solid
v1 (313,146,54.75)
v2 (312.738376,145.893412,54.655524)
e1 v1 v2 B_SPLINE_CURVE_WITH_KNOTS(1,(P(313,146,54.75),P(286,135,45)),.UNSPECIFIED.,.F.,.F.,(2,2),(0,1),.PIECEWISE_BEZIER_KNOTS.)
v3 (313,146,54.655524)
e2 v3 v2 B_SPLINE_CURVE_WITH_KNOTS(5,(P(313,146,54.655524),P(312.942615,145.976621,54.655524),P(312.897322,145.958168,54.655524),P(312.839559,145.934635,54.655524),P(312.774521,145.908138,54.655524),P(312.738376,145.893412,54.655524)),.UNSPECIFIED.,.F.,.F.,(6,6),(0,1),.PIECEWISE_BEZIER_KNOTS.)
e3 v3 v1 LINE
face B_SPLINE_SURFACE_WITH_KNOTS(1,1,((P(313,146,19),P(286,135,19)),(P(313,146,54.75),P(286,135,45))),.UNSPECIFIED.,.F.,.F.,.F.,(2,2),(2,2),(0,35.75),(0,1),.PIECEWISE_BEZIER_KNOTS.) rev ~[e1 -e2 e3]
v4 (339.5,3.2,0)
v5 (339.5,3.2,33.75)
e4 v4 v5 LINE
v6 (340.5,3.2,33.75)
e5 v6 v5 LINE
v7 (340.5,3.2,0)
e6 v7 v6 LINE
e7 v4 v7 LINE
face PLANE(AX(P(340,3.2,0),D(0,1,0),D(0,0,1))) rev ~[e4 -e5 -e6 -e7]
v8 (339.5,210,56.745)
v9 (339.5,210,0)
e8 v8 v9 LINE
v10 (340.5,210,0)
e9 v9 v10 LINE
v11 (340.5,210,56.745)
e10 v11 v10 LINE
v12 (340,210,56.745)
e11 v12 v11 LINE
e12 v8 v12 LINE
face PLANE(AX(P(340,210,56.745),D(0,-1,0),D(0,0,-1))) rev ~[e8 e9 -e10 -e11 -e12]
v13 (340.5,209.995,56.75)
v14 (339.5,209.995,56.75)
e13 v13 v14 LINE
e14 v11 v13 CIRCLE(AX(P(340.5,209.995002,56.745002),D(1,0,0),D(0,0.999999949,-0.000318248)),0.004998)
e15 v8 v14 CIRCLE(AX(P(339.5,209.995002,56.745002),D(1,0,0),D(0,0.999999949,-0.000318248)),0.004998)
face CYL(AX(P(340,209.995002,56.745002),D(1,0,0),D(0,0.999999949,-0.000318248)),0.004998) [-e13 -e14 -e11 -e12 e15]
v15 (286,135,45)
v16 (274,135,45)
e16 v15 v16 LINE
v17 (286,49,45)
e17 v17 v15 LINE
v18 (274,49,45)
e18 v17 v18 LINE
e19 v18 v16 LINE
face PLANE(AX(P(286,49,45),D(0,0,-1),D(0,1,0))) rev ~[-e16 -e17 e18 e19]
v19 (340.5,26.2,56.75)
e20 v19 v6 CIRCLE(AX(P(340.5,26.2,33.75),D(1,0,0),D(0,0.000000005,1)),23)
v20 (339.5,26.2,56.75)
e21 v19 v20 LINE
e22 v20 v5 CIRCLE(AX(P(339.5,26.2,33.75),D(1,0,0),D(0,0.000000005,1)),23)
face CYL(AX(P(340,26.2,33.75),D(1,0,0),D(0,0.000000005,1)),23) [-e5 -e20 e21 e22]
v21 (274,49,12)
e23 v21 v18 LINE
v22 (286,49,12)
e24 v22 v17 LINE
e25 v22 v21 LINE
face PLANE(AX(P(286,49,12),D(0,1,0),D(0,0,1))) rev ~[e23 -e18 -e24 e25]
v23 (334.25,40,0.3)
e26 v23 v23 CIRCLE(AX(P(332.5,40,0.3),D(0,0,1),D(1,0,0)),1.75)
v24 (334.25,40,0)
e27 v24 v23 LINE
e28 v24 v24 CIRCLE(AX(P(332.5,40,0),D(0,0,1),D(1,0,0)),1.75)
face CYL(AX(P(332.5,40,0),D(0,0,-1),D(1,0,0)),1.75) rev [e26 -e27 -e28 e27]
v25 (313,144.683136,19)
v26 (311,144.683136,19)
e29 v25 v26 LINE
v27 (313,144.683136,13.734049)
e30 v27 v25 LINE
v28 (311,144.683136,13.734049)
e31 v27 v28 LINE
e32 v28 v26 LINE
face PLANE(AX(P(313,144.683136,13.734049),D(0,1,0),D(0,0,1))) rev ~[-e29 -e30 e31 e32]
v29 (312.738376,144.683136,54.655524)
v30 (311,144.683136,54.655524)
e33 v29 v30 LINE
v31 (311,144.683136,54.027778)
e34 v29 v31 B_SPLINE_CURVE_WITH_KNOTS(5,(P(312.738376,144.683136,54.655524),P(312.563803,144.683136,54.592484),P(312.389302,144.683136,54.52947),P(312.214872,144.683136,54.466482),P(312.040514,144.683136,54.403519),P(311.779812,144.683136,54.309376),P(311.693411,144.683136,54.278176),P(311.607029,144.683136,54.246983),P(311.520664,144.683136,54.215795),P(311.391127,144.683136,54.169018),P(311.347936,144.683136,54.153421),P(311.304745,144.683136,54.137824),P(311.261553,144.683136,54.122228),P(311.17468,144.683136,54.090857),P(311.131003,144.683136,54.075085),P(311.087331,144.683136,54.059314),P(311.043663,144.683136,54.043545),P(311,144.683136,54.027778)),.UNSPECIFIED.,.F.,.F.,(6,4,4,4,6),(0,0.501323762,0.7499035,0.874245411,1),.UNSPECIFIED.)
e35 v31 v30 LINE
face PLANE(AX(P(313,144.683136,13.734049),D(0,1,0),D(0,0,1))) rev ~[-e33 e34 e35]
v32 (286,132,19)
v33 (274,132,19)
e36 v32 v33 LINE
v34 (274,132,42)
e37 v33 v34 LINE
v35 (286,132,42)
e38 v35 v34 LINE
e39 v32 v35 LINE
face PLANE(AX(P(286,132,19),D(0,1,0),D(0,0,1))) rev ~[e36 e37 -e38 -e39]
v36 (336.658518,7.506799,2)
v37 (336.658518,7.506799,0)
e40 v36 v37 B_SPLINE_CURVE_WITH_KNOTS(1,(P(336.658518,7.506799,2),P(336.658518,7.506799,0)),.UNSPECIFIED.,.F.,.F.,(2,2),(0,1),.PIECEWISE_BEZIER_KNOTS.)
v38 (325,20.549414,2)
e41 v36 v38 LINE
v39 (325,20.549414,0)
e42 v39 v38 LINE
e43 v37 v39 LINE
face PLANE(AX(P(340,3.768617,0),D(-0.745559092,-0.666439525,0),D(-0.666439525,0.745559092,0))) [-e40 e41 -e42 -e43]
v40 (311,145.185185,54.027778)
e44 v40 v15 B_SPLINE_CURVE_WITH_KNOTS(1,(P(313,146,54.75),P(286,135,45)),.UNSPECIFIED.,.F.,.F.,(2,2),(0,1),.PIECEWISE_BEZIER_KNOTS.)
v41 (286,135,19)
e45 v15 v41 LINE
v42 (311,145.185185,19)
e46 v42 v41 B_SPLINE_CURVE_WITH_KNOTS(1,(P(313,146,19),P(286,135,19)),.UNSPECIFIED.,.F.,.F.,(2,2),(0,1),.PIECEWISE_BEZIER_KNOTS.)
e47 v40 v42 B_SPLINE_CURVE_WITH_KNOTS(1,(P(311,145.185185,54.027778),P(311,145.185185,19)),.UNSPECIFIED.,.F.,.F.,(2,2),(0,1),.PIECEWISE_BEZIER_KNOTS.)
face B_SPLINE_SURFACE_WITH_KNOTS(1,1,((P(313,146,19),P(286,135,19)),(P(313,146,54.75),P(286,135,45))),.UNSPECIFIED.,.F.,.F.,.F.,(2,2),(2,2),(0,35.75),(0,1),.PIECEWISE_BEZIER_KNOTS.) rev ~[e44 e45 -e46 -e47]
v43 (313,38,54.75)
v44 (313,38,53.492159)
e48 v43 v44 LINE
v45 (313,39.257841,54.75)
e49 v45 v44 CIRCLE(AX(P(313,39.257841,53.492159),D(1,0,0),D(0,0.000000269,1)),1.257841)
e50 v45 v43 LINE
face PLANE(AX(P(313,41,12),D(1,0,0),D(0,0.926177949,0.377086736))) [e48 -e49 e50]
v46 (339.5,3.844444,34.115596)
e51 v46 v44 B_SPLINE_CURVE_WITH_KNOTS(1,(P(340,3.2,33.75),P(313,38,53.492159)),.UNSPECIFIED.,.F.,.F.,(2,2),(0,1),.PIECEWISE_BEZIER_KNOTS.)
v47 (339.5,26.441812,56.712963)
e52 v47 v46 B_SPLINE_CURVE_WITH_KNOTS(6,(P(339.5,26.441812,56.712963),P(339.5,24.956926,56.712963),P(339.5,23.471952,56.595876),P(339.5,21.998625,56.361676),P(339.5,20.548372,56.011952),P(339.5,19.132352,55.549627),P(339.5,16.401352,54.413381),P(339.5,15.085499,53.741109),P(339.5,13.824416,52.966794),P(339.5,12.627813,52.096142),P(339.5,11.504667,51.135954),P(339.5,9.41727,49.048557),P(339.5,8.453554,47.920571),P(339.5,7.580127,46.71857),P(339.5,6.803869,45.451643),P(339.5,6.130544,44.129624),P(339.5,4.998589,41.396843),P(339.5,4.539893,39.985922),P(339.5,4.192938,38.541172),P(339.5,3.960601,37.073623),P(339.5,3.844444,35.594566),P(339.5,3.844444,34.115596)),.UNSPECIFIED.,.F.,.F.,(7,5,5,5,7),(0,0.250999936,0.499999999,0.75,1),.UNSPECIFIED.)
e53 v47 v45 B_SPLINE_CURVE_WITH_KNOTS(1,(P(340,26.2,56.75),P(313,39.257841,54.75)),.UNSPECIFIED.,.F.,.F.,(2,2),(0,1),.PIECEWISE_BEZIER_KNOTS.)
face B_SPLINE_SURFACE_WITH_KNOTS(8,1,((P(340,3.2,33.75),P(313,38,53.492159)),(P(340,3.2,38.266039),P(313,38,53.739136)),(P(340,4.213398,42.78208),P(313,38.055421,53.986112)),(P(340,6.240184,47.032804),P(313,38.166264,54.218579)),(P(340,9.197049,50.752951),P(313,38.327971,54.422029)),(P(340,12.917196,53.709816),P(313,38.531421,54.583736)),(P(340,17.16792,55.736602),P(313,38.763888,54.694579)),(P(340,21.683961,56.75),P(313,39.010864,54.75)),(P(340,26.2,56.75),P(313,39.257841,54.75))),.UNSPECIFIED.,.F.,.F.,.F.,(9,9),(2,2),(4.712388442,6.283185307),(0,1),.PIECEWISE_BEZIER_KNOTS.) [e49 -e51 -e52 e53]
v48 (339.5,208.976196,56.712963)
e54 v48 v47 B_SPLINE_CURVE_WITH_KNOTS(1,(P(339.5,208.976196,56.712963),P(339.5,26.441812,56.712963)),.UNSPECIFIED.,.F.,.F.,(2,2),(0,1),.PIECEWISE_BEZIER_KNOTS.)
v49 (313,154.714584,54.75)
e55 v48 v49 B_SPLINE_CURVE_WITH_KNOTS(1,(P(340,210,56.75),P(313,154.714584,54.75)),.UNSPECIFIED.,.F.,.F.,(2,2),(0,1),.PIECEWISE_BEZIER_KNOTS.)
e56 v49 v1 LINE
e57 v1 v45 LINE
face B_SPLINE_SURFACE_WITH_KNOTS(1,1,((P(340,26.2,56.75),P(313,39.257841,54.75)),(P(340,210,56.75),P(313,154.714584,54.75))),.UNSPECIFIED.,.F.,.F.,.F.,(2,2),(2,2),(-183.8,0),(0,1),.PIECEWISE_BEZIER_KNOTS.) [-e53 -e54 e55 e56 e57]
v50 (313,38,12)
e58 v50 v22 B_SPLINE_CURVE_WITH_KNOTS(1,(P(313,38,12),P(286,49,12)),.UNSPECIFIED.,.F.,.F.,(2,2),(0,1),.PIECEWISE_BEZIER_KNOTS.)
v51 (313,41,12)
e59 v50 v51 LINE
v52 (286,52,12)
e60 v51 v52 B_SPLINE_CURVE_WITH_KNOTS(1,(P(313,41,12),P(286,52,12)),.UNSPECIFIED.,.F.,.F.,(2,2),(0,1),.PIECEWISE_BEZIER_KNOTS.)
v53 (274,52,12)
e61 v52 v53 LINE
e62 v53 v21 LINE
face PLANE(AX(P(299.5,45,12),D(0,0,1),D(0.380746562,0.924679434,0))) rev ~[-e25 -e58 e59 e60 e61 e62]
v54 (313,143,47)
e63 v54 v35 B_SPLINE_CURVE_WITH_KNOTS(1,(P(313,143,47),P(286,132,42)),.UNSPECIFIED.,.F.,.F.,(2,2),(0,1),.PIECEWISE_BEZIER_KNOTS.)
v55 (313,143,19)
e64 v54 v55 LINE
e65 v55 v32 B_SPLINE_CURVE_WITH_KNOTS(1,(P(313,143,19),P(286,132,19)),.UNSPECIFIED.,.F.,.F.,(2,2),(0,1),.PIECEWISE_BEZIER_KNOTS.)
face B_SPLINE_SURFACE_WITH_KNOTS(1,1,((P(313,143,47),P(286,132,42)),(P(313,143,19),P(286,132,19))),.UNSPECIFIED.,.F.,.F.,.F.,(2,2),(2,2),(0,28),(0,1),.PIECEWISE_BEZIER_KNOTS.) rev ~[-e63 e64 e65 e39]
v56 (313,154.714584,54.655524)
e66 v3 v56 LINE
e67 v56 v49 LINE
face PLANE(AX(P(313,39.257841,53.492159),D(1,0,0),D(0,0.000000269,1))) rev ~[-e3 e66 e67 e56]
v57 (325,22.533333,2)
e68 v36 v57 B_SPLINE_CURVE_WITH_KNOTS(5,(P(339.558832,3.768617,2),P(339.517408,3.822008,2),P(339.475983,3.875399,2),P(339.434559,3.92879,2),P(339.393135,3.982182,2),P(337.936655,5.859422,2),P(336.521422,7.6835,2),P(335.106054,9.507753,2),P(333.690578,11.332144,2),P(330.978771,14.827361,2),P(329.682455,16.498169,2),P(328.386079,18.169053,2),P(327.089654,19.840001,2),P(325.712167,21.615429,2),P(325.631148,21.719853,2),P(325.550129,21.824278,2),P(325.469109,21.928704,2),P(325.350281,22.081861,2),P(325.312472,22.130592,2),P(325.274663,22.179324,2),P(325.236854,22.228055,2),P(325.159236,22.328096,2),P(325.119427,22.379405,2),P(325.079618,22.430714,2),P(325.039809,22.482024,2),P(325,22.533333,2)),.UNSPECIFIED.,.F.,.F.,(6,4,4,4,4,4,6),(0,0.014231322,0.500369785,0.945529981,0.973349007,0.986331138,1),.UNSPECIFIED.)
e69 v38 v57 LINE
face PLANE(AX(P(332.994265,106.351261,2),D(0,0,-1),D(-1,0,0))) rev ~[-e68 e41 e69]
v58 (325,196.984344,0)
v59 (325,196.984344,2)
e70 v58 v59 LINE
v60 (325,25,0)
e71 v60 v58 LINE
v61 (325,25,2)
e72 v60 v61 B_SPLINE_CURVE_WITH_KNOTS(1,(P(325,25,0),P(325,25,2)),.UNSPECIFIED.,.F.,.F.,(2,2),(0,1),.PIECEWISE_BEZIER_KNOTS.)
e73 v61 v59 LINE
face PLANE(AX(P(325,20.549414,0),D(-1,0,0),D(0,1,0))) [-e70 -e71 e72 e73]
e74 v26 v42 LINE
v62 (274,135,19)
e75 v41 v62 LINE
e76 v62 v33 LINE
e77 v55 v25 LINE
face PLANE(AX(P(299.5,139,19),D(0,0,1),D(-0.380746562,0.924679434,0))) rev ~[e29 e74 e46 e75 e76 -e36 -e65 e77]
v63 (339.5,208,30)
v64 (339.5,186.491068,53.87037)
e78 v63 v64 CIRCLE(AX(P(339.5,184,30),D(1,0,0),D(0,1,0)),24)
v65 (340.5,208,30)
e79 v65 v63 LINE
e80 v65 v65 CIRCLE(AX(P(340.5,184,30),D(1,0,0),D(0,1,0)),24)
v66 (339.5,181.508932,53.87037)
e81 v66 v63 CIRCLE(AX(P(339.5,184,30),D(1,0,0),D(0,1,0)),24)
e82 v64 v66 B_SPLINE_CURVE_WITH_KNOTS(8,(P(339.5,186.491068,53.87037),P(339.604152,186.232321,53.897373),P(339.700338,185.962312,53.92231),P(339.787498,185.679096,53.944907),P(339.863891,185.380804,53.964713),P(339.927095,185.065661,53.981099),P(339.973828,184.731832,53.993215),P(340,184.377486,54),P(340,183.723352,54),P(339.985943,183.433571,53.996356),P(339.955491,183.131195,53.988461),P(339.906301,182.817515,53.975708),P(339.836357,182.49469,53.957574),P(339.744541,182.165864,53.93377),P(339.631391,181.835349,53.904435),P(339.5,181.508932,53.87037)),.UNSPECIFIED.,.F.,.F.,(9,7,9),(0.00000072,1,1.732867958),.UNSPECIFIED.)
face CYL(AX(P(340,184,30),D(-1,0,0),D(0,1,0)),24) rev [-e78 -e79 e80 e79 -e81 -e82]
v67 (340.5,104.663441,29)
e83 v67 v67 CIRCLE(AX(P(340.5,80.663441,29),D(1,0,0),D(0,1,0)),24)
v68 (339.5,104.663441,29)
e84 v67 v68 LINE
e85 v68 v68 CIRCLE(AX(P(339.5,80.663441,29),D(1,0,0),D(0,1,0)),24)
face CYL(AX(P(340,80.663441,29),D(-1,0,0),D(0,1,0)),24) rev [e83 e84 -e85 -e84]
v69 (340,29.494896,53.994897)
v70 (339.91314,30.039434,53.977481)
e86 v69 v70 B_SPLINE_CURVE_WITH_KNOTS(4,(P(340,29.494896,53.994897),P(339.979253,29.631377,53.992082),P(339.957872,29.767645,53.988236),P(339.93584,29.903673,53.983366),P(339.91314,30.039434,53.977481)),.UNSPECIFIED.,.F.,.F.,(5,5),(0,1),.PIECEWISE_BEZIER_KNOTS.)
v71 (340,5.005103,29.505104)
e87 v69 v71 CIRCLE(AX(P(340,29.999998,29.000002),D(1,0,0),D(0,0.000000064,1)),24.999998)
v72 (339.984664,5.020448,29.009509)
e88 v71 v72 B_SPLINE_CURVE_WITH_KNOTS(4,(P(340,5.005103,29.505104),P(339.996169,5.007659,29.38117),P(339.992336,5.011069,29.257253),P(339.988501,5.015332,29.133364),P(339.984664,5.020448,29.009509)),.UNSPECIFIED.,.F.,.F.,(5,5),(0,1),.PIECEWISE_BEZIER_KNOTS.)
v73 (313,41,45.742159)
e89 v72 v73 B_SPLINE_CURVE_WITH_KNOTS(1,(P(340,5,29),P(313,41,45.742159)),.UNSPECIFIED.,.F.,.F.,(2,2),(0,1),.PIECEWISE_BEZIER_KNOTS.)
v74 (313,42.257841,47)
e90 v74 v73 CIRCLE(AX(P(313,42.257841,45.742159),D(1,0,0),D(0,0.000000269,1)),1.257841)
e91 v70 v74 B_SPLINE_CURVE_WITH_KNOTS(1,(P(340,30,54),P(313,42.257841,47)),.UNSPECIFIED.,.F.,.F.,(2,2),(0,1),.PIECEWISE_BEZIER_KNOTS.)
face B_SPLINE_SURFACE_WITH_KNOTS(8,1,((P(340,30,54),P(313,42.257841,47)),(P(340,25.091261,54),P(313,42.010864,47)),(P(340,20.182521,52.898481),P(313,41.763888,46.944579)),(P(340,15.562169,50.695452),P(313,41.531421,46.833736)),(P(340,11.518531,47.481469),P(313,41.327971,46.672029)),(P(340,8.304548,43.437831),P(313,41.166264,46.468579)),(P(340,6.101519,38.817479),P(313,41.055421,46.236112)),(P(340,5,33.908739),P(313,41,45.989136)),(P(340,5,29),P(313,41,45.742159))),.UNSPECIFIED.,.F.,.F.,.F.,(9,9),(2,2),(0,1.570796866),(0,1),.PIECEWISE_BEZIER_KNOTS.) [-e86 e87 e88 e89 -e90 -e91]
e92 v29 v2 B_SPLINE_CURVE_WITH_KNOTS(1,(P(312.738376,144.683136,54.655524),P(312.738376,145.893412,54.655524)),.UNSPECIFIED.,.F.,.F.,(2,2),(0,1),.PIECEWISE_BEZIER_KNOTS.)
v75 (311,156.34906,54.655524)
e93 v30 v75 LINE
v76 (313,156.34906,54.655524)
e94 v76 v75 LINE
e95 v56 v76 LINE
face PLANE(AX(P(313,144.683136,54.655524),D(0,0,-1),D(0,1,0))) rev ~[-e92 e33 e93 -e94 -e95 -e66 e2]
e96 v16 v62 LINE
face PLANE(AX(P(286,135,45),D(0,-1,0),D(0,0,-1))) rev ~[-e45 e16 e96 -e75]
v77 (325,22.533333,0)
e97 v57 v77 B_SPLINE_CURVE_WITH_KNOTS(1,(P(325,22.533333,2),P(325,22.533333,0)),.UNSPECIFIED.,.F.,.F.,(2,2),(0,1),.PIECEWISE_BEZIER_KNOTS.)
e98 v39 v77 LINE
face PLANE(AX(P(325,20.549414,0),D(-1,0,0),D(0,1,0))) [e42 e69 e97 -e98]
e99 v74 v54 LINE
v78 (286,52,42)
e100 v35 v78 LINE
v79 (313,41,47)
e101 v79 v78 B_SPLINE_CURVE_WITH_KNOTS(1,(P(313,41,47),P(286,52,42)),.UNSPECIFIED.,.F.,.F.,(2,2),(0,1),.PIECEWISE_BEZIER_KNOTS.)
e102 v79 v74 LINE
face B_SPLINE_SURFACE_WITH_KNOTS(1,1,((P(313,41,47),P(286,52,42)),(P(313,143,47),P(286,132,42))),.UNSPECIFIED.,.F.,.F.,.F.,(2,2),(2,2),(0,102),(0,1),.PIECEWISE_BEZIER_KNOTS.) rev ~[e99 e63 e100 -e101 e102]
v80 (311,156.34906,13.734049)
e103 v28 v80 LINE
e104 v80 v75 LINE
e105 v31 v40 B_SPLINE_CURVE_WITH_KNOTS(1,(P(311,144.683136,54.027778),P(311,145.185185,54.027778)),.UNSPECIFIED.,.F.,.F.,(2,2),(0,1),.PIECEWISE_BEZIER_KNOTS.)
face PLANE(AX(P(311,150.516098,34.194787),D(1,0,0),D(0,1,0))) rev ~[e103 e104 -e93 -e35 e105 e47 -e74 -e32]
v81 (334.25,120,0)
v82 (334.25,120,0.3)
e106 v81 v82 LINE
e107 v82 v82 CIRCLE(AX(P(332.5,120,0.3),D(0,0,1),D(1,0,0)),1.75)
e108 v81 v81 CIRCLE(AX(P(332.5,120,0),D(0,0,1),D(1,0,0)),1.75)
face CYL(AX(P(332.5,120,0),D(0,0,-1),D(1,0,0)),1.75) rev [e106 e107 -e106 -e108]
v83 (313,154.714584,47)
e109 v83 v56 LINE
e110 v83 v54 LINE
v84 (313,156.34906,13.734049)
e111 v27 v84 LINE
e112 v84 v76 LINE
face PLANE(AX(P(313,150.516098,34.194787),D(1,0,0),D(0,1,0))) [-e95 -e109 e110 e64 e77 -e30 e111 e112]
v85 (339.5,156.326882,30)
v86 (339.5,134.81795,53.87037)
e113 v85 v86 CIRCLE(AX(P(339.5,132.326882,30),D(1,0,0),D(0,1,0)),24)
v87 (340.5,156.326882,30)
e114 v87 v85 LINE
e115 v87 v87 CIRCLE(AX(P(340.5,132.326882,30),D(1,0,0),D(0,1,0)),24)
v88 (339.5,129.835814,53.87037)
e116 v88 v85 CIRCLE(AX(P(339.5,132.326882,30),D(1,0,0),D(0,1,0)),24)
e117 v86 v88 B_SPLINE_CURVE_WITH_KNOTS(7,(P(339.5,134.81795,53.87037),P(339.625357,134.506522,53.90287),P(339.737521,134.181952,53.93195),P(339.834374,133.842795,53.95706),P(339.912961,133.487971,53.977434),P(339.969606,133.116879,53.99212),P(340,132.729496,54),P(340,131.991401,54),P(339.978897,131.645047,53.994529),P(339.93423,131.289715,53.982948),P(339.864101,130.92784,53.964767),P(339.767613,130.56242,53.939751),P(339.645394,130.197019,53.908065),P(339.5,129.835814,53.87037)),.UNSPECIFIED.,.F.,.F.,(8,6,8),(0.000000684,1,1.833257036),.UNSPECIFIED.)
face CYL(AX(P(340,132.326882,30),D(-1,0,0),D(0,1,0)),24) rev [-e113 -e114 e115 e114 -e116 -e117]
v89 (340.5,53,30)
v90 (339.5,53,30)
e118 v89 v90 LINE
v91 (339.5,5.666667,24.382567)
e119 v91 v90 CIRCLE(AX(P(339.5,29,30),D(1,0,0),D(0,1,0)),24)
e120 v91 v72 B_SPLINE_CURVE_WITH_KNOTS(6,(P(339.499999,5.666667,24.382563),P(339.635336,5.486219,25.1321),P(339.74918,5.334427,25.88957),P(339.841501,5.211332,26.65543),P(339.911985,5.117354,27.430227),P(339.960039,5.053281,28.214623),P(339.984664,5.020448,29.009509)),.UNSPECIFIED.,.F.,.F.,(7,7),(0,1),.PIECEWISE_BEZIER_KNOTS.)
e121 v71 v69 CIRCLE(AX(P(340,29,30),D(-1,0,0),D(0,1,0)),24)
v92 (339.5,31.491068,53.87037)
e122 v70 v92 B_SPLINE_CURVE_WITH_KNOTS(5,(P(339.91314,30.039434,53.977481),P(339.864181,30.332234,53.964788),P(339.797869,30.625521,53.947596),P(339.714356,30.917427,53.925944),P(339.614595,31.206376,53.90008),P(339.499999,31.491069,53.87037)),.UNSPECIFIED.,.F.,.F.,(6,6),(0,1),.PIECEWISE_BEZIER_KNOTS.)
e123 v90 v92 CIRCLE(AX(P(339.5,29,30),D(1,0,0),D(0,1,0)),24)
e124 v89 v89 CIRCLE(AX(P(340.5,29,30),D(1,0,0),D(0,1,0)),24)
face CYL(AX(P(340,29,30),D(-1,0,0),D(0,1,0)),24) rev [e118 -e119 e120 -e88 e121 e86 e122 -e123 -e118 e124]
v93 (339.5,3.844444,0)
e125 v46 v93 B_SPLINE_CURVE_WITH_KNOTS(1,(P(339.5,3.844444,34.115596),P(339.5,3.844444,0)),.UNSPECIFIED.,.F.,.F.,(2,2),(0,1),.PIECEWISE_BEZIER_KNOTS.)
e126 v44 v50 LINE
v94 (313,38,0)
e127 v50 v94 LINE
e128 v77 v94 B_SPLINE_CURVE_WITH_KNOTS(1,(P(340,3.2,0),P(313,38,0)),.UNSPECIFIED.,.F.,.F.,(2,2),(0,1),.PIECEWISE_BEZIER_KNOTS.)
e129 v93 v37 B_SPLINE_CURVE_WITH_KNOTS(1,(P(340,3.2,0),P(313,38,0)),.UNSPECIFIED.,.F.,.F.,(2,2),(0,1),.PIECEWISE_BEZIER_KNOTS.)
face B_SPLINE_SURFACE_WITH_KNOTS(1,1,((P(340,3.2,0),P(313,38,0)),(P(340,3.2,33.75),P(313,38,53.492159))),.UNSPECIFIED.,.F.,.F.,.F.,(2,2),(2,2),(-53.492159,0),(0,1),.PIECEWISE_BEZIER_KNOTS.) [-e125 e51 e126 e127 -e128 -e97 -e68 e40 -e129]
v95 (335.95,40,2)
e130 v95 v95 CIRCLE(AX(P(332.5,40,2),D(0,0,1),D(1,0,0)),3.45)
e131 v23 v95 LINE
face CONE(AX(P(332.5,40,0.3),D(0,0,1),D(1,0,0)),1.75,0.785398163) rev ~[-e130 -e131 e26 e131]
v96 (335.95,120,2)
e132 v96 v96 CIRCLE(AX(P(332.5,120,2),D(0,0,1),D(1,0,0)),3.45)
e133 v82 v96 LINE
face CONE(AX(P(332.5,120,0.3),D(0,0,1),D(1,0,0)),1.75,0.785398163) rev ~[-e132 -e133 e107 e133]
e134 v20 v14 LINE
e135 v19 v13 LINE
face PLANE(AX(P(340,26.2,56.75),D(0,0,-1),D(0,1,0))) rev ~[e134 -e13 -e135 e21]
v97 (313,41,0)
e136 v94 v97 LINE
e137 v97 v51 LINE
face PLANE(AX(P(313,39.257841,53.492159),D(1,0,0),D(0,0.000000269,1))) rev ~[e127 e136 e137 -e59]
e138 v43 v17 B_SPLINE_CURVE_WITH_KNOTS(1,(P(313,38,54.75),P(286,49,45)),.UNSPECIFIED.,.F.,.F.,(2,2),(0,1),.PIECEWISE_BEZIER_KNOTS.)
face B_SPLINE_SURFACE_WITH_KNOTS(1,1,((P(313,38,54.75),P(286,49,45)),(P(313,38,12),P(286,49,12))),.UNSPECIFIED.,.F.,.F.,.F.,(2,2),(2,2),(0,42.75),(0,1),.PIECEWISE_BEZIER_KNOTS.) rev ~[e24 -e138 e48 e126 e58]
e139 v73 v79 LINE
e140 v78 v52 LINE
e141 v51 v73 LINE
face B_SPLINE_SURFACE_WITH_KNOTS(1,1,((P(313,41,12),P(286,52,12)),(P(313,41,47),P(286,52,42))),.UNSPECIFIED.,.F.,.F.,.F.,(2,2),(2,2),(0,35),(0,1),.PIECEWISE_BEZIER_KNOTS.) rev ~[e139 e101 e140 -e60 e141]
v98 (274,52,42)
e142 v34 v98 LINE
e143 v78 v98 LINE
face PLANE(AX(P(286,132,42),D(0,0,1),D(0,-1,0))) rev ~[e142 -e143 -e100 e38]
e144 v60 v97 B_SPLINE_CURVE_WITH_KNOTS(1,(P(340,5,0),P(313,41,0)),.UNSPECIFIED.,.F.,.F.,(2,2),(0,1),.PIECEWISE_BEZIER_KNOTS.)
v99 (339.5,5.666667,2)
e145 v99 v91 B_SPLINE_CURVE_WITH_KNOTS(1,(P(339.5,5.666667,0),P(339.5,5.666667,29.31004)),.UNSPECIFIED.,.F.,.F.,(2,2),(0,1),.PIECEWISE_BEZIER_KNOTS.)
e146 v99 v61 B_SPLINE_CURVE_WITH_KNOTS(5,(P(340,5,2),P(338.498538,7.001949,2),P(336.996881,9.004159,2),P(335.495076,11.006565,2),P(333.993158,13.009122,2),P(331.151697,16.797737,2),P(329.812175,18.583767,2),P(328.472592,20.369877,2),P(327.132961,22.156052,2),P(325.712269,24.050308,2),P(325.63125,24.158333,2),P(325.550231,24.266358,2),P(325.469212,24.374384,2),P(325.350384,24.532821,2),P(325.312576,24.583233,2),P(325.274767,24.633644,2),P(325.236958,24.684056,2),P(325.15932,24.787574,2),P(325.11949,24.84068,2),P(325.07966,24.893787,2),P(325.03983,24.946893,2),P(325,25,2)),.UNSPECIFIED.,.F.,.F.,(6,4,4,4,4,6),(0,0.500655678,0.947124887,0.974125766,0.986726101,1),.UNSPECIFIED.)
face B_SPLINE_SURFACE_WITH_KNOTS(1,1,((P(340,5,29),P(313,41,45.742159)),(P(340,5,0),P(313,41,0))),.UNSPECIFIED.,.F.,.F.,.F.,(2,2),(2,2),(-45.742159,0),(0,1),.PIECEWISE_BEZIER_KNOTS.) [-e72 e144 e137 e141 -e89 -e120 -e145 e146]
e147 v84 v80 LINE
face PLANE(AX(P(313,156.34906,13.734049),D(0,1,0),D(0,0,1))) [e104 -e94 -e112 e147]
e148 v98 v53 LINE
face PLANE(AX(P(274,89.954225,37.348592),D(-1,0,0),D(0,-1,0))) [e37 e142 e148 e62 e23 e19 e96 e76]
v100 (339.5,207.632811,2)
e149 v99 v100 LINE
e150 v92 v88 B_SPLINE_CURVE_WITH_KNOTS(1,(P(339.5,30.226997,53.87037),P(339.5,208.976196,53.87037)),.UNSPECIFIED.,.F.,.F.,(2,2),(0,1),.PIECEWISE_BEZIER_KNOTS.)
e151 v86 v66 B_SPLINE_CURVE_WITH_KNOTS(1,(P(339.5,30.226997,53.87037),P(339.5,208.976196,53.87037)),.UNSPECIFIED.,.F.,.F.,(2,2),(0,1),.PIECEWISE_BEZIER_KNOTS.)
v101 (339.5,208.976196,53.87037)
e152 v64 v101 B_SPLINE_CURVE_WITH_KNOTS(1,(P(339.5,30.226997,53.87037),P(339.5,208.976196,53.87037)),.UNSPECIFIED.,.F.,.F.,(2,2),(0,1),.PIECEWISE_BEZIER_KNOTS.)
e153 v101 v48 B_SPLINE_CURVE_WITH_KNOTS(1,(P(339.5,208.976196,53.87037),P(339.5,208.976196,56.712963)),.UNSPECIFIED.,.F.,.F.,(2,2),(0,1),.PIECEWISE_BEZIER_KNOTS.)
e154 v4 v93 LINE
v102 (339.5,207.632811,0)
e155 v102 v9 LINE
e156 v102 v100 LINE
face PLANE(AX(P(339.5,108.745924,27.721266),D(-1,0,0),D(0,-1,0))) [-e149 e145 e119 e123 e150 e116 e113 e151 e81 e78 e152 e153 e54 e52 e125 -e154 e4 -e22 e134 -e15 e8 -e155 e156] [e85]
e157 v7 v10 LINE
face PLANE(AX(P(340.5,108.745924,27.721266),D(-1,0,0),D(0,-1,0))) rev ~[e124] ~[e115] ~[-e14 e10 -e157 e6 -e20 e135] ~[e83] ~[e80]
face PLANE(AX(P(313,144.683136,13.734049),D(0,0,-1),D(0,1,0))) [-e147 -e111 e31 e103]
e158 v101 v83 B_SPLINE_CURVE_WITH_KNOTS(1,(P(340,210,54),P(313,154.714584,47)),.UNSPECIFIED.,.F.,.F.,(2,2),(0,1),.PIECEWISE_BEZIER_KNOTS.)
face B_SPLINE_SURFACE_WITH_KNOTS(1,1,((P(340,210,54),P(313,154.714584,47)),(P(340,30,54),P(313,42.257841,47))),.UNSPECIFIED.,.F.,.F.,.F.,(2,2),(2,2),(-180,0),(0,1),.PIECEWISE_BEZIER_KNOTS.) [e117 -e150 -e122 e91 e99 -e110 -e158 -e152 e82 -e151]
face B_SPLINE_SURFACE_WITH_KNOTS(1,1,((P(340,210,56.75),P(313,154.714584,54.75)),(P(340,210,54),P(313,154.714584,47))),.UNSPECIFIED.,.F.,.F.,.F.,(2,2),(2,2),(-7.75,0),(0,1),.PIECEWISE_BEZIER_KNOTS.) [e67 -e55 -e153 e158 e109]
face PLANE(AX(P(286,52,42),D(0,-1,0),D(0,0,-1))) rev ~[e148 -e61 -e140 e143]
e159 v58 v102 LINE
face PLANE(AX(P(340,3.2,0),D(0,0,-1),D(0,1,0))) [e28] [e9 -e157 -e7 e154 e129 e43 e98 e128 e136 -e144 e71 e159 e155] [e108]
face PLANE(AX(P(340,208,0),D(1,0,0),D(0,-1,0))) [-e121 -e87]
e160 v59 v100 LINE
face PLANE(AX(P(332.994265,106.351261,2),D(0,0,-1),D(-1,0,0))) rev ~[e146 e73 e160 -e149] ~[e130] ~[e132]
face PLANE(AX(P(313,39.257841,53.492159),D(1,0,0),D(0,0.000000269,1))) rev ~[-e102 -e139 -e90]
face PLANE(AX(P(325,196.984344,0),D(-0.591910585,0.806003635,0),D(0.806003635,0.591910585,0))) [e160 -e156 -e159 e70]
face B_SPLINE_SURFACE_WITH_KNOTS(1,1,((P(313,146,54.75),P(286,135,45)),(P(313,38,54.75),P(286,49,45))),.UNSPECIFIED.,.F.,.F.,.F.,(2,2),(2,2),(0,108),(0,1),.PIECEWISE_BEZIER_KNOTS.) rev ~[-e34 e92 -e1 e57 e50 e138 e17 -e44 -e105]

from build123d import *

# Parameters (mm, degrees)
PAD027_DEPTH    = 12
SKETCH076_R     = 1.75
PAD037_DEPTH    = 2
CHAMFER008_SIZE = 1.7
SKETCH098_R     = 24
PAD052_DEPTH    = 0.5
SKETCH099_W     = 11.665924
SKETCH099_H     = 40.921475
PAD053_DEPTH    = 2


with BuildPart() as part:
    # Sketch058 (on DatumPlane) → Pad027 (new body)
    with BuildSketch(Plane.YZ.offset(286)):
        Polygon((49, 12), (49, 45), (135, 45), (135, 19), (132, 19), (132, 42), (52, 42), (52, 12), align=None)
    extrude(amount=-PAD027_DEPTH)

    # Sketch060 (on DatumPlane) → AdditiveLoft001 section 0
    with BuildSketch(Plane.YZ.offset(313)):
        Polygon((41, 12), (41, 47), (143, 47), (143, 19), (146, 19), (146, 54.75), (38, 54.75), (38, 12), align=None)
    # Sketch059 (on DatumPlane) → AdditiveLoft001 section 1
    with BuildSketch(Plane.YZ.offset(286)):
        Polygon((49, 12), (49, 45), (135, 45), (135, 19), (132, 19), (132, 42), (52, 42), (52, 12), align=None)
    loft()

    # Sketch062 (on DatumPlane) → AdditiveLoft002 section 0
    with BuildSketch(Plane.YZ.offset(340)):
        with BuildLine():
            Line((3.2, 0), (3.2, 33.75))
            ThreePointArc((26.2, 56.75), (9.936544, 50.013456), (3.2, 33.75))
            Line((26.2, 56.75), (187, 56.75))
            Line((210, 56.75), (187, 56.75))
            Line((210, 54), (210, 56.75))
            Line((183, 54), (210, 54))
            Line((183, 54), (30, 54))
            ThreePointArc((30, 54), (12.32233, 46.67767), (5, 29))
            Line((5, 29), (5, 0))
            Line((5, 0), (3.2, 0))
        make_face()
    # Sketch061 (on DatumPlane) → AdditiveLoft002 section 1
    with BuildSketch(Plane.YZ.offset(313)):
        with BuildLine():
            Line((41, 0), (41, 45.742159))
            ThreePointArc((42.257841, 47), (41.368413, 46.631587), (41, 45.742159))
            Line((42.257841, 47), (141.742159, 47))
            Line((141.742159, 47), (154.714584, 47))
            Line((154.714584, 47), (154.714584, 54.75))
            Line((154.714584, 54.75), (144.742159, 54.75))
            Line((144.742159, 54.75), (39.257841, 54.75))
            ThreePointArc((39.257841, 54.75), (38.368413, 54.381587), (38, 53.492159))
            Line((38, 53.492159), (38, 0))
            Line((38, 0), (41, 0))
        make_face()
    loft()

    # Sketch076 → Pad037 (join)
    with BuildSketch(Plane.XY):
        Polygon((340, 208), (340, 3.768617), (325, 20.549414), (325, 196.984344), align=None)
        with Locations((332.5, 40)):
            Circle(SKETCH076_R, mode=Mode.SUBTRACT)
        with Locations((332.5, 120)):
            Circle(SKETCH076_R, mode=Mode.SUBTRACT)
    extrude(amount=PAD037_DEPTH)

    # Chamfer008
    chamfer008_edges = [part.edges().sort_by_distance(p)[0] for p in [
        (330.75, 120, 2),
        (330.75, 40, 2),
    ]]
    chamfer(chamfer008_edges, length=CHAMFER008_SIZE)

    # Sketch098 (on DatumPlane) → Pad052 (join, symmetric)
    with BuildSketch(Plane.YZ.offset(340)):
        with BuildLine():
            Line((3.2, 0), (3.2, 33.75))
            ThreePointArc((26.2, 56.75), (9.936544, 50.013456), (3.2, 33.75))
            Line((26.2, 56.75), (209.995, 56.75))
            ThreePointArc((210, 56.745), (209.998536, 56.748536), (209.995, 56.75))
            Line((210, 56.745), (210, 0))
            Line((210, 0), (208, 0))
            Line((5, 0), (208, 0))
            Line((5, 0), (3.2, 0))
        make_face()
        with Locations((29, 30)):
            Circle(SKETCH098_R, mode=Mode.SUBTRACT)
        with Locations((184, 30)):
            Circle(SKETCH098_R, mode=Mode.SUBTRACT)
        with Locations((80.663441, 29)):
            Circle(SKETCH098_R, mode=Mode.SUBTRACT)
        with Locations((132.326882, 30)):
            Circle(SKETCH098_R, mode=Mode.SUBTRACT)
    extrude(amount=PAD052_DEPTH, both=True)

    # Sketch099 (on DatumPlane) → Pad053 (join)
    with BuildSketch(Plane.YZ.offset(313)):
        with Locations((150.516098, 34.194787)):
            Rectangle(SKETCH099_W, SKETCH099_H)
    extrude(amount=-PAD053_DEPTH)


solid = part.part
